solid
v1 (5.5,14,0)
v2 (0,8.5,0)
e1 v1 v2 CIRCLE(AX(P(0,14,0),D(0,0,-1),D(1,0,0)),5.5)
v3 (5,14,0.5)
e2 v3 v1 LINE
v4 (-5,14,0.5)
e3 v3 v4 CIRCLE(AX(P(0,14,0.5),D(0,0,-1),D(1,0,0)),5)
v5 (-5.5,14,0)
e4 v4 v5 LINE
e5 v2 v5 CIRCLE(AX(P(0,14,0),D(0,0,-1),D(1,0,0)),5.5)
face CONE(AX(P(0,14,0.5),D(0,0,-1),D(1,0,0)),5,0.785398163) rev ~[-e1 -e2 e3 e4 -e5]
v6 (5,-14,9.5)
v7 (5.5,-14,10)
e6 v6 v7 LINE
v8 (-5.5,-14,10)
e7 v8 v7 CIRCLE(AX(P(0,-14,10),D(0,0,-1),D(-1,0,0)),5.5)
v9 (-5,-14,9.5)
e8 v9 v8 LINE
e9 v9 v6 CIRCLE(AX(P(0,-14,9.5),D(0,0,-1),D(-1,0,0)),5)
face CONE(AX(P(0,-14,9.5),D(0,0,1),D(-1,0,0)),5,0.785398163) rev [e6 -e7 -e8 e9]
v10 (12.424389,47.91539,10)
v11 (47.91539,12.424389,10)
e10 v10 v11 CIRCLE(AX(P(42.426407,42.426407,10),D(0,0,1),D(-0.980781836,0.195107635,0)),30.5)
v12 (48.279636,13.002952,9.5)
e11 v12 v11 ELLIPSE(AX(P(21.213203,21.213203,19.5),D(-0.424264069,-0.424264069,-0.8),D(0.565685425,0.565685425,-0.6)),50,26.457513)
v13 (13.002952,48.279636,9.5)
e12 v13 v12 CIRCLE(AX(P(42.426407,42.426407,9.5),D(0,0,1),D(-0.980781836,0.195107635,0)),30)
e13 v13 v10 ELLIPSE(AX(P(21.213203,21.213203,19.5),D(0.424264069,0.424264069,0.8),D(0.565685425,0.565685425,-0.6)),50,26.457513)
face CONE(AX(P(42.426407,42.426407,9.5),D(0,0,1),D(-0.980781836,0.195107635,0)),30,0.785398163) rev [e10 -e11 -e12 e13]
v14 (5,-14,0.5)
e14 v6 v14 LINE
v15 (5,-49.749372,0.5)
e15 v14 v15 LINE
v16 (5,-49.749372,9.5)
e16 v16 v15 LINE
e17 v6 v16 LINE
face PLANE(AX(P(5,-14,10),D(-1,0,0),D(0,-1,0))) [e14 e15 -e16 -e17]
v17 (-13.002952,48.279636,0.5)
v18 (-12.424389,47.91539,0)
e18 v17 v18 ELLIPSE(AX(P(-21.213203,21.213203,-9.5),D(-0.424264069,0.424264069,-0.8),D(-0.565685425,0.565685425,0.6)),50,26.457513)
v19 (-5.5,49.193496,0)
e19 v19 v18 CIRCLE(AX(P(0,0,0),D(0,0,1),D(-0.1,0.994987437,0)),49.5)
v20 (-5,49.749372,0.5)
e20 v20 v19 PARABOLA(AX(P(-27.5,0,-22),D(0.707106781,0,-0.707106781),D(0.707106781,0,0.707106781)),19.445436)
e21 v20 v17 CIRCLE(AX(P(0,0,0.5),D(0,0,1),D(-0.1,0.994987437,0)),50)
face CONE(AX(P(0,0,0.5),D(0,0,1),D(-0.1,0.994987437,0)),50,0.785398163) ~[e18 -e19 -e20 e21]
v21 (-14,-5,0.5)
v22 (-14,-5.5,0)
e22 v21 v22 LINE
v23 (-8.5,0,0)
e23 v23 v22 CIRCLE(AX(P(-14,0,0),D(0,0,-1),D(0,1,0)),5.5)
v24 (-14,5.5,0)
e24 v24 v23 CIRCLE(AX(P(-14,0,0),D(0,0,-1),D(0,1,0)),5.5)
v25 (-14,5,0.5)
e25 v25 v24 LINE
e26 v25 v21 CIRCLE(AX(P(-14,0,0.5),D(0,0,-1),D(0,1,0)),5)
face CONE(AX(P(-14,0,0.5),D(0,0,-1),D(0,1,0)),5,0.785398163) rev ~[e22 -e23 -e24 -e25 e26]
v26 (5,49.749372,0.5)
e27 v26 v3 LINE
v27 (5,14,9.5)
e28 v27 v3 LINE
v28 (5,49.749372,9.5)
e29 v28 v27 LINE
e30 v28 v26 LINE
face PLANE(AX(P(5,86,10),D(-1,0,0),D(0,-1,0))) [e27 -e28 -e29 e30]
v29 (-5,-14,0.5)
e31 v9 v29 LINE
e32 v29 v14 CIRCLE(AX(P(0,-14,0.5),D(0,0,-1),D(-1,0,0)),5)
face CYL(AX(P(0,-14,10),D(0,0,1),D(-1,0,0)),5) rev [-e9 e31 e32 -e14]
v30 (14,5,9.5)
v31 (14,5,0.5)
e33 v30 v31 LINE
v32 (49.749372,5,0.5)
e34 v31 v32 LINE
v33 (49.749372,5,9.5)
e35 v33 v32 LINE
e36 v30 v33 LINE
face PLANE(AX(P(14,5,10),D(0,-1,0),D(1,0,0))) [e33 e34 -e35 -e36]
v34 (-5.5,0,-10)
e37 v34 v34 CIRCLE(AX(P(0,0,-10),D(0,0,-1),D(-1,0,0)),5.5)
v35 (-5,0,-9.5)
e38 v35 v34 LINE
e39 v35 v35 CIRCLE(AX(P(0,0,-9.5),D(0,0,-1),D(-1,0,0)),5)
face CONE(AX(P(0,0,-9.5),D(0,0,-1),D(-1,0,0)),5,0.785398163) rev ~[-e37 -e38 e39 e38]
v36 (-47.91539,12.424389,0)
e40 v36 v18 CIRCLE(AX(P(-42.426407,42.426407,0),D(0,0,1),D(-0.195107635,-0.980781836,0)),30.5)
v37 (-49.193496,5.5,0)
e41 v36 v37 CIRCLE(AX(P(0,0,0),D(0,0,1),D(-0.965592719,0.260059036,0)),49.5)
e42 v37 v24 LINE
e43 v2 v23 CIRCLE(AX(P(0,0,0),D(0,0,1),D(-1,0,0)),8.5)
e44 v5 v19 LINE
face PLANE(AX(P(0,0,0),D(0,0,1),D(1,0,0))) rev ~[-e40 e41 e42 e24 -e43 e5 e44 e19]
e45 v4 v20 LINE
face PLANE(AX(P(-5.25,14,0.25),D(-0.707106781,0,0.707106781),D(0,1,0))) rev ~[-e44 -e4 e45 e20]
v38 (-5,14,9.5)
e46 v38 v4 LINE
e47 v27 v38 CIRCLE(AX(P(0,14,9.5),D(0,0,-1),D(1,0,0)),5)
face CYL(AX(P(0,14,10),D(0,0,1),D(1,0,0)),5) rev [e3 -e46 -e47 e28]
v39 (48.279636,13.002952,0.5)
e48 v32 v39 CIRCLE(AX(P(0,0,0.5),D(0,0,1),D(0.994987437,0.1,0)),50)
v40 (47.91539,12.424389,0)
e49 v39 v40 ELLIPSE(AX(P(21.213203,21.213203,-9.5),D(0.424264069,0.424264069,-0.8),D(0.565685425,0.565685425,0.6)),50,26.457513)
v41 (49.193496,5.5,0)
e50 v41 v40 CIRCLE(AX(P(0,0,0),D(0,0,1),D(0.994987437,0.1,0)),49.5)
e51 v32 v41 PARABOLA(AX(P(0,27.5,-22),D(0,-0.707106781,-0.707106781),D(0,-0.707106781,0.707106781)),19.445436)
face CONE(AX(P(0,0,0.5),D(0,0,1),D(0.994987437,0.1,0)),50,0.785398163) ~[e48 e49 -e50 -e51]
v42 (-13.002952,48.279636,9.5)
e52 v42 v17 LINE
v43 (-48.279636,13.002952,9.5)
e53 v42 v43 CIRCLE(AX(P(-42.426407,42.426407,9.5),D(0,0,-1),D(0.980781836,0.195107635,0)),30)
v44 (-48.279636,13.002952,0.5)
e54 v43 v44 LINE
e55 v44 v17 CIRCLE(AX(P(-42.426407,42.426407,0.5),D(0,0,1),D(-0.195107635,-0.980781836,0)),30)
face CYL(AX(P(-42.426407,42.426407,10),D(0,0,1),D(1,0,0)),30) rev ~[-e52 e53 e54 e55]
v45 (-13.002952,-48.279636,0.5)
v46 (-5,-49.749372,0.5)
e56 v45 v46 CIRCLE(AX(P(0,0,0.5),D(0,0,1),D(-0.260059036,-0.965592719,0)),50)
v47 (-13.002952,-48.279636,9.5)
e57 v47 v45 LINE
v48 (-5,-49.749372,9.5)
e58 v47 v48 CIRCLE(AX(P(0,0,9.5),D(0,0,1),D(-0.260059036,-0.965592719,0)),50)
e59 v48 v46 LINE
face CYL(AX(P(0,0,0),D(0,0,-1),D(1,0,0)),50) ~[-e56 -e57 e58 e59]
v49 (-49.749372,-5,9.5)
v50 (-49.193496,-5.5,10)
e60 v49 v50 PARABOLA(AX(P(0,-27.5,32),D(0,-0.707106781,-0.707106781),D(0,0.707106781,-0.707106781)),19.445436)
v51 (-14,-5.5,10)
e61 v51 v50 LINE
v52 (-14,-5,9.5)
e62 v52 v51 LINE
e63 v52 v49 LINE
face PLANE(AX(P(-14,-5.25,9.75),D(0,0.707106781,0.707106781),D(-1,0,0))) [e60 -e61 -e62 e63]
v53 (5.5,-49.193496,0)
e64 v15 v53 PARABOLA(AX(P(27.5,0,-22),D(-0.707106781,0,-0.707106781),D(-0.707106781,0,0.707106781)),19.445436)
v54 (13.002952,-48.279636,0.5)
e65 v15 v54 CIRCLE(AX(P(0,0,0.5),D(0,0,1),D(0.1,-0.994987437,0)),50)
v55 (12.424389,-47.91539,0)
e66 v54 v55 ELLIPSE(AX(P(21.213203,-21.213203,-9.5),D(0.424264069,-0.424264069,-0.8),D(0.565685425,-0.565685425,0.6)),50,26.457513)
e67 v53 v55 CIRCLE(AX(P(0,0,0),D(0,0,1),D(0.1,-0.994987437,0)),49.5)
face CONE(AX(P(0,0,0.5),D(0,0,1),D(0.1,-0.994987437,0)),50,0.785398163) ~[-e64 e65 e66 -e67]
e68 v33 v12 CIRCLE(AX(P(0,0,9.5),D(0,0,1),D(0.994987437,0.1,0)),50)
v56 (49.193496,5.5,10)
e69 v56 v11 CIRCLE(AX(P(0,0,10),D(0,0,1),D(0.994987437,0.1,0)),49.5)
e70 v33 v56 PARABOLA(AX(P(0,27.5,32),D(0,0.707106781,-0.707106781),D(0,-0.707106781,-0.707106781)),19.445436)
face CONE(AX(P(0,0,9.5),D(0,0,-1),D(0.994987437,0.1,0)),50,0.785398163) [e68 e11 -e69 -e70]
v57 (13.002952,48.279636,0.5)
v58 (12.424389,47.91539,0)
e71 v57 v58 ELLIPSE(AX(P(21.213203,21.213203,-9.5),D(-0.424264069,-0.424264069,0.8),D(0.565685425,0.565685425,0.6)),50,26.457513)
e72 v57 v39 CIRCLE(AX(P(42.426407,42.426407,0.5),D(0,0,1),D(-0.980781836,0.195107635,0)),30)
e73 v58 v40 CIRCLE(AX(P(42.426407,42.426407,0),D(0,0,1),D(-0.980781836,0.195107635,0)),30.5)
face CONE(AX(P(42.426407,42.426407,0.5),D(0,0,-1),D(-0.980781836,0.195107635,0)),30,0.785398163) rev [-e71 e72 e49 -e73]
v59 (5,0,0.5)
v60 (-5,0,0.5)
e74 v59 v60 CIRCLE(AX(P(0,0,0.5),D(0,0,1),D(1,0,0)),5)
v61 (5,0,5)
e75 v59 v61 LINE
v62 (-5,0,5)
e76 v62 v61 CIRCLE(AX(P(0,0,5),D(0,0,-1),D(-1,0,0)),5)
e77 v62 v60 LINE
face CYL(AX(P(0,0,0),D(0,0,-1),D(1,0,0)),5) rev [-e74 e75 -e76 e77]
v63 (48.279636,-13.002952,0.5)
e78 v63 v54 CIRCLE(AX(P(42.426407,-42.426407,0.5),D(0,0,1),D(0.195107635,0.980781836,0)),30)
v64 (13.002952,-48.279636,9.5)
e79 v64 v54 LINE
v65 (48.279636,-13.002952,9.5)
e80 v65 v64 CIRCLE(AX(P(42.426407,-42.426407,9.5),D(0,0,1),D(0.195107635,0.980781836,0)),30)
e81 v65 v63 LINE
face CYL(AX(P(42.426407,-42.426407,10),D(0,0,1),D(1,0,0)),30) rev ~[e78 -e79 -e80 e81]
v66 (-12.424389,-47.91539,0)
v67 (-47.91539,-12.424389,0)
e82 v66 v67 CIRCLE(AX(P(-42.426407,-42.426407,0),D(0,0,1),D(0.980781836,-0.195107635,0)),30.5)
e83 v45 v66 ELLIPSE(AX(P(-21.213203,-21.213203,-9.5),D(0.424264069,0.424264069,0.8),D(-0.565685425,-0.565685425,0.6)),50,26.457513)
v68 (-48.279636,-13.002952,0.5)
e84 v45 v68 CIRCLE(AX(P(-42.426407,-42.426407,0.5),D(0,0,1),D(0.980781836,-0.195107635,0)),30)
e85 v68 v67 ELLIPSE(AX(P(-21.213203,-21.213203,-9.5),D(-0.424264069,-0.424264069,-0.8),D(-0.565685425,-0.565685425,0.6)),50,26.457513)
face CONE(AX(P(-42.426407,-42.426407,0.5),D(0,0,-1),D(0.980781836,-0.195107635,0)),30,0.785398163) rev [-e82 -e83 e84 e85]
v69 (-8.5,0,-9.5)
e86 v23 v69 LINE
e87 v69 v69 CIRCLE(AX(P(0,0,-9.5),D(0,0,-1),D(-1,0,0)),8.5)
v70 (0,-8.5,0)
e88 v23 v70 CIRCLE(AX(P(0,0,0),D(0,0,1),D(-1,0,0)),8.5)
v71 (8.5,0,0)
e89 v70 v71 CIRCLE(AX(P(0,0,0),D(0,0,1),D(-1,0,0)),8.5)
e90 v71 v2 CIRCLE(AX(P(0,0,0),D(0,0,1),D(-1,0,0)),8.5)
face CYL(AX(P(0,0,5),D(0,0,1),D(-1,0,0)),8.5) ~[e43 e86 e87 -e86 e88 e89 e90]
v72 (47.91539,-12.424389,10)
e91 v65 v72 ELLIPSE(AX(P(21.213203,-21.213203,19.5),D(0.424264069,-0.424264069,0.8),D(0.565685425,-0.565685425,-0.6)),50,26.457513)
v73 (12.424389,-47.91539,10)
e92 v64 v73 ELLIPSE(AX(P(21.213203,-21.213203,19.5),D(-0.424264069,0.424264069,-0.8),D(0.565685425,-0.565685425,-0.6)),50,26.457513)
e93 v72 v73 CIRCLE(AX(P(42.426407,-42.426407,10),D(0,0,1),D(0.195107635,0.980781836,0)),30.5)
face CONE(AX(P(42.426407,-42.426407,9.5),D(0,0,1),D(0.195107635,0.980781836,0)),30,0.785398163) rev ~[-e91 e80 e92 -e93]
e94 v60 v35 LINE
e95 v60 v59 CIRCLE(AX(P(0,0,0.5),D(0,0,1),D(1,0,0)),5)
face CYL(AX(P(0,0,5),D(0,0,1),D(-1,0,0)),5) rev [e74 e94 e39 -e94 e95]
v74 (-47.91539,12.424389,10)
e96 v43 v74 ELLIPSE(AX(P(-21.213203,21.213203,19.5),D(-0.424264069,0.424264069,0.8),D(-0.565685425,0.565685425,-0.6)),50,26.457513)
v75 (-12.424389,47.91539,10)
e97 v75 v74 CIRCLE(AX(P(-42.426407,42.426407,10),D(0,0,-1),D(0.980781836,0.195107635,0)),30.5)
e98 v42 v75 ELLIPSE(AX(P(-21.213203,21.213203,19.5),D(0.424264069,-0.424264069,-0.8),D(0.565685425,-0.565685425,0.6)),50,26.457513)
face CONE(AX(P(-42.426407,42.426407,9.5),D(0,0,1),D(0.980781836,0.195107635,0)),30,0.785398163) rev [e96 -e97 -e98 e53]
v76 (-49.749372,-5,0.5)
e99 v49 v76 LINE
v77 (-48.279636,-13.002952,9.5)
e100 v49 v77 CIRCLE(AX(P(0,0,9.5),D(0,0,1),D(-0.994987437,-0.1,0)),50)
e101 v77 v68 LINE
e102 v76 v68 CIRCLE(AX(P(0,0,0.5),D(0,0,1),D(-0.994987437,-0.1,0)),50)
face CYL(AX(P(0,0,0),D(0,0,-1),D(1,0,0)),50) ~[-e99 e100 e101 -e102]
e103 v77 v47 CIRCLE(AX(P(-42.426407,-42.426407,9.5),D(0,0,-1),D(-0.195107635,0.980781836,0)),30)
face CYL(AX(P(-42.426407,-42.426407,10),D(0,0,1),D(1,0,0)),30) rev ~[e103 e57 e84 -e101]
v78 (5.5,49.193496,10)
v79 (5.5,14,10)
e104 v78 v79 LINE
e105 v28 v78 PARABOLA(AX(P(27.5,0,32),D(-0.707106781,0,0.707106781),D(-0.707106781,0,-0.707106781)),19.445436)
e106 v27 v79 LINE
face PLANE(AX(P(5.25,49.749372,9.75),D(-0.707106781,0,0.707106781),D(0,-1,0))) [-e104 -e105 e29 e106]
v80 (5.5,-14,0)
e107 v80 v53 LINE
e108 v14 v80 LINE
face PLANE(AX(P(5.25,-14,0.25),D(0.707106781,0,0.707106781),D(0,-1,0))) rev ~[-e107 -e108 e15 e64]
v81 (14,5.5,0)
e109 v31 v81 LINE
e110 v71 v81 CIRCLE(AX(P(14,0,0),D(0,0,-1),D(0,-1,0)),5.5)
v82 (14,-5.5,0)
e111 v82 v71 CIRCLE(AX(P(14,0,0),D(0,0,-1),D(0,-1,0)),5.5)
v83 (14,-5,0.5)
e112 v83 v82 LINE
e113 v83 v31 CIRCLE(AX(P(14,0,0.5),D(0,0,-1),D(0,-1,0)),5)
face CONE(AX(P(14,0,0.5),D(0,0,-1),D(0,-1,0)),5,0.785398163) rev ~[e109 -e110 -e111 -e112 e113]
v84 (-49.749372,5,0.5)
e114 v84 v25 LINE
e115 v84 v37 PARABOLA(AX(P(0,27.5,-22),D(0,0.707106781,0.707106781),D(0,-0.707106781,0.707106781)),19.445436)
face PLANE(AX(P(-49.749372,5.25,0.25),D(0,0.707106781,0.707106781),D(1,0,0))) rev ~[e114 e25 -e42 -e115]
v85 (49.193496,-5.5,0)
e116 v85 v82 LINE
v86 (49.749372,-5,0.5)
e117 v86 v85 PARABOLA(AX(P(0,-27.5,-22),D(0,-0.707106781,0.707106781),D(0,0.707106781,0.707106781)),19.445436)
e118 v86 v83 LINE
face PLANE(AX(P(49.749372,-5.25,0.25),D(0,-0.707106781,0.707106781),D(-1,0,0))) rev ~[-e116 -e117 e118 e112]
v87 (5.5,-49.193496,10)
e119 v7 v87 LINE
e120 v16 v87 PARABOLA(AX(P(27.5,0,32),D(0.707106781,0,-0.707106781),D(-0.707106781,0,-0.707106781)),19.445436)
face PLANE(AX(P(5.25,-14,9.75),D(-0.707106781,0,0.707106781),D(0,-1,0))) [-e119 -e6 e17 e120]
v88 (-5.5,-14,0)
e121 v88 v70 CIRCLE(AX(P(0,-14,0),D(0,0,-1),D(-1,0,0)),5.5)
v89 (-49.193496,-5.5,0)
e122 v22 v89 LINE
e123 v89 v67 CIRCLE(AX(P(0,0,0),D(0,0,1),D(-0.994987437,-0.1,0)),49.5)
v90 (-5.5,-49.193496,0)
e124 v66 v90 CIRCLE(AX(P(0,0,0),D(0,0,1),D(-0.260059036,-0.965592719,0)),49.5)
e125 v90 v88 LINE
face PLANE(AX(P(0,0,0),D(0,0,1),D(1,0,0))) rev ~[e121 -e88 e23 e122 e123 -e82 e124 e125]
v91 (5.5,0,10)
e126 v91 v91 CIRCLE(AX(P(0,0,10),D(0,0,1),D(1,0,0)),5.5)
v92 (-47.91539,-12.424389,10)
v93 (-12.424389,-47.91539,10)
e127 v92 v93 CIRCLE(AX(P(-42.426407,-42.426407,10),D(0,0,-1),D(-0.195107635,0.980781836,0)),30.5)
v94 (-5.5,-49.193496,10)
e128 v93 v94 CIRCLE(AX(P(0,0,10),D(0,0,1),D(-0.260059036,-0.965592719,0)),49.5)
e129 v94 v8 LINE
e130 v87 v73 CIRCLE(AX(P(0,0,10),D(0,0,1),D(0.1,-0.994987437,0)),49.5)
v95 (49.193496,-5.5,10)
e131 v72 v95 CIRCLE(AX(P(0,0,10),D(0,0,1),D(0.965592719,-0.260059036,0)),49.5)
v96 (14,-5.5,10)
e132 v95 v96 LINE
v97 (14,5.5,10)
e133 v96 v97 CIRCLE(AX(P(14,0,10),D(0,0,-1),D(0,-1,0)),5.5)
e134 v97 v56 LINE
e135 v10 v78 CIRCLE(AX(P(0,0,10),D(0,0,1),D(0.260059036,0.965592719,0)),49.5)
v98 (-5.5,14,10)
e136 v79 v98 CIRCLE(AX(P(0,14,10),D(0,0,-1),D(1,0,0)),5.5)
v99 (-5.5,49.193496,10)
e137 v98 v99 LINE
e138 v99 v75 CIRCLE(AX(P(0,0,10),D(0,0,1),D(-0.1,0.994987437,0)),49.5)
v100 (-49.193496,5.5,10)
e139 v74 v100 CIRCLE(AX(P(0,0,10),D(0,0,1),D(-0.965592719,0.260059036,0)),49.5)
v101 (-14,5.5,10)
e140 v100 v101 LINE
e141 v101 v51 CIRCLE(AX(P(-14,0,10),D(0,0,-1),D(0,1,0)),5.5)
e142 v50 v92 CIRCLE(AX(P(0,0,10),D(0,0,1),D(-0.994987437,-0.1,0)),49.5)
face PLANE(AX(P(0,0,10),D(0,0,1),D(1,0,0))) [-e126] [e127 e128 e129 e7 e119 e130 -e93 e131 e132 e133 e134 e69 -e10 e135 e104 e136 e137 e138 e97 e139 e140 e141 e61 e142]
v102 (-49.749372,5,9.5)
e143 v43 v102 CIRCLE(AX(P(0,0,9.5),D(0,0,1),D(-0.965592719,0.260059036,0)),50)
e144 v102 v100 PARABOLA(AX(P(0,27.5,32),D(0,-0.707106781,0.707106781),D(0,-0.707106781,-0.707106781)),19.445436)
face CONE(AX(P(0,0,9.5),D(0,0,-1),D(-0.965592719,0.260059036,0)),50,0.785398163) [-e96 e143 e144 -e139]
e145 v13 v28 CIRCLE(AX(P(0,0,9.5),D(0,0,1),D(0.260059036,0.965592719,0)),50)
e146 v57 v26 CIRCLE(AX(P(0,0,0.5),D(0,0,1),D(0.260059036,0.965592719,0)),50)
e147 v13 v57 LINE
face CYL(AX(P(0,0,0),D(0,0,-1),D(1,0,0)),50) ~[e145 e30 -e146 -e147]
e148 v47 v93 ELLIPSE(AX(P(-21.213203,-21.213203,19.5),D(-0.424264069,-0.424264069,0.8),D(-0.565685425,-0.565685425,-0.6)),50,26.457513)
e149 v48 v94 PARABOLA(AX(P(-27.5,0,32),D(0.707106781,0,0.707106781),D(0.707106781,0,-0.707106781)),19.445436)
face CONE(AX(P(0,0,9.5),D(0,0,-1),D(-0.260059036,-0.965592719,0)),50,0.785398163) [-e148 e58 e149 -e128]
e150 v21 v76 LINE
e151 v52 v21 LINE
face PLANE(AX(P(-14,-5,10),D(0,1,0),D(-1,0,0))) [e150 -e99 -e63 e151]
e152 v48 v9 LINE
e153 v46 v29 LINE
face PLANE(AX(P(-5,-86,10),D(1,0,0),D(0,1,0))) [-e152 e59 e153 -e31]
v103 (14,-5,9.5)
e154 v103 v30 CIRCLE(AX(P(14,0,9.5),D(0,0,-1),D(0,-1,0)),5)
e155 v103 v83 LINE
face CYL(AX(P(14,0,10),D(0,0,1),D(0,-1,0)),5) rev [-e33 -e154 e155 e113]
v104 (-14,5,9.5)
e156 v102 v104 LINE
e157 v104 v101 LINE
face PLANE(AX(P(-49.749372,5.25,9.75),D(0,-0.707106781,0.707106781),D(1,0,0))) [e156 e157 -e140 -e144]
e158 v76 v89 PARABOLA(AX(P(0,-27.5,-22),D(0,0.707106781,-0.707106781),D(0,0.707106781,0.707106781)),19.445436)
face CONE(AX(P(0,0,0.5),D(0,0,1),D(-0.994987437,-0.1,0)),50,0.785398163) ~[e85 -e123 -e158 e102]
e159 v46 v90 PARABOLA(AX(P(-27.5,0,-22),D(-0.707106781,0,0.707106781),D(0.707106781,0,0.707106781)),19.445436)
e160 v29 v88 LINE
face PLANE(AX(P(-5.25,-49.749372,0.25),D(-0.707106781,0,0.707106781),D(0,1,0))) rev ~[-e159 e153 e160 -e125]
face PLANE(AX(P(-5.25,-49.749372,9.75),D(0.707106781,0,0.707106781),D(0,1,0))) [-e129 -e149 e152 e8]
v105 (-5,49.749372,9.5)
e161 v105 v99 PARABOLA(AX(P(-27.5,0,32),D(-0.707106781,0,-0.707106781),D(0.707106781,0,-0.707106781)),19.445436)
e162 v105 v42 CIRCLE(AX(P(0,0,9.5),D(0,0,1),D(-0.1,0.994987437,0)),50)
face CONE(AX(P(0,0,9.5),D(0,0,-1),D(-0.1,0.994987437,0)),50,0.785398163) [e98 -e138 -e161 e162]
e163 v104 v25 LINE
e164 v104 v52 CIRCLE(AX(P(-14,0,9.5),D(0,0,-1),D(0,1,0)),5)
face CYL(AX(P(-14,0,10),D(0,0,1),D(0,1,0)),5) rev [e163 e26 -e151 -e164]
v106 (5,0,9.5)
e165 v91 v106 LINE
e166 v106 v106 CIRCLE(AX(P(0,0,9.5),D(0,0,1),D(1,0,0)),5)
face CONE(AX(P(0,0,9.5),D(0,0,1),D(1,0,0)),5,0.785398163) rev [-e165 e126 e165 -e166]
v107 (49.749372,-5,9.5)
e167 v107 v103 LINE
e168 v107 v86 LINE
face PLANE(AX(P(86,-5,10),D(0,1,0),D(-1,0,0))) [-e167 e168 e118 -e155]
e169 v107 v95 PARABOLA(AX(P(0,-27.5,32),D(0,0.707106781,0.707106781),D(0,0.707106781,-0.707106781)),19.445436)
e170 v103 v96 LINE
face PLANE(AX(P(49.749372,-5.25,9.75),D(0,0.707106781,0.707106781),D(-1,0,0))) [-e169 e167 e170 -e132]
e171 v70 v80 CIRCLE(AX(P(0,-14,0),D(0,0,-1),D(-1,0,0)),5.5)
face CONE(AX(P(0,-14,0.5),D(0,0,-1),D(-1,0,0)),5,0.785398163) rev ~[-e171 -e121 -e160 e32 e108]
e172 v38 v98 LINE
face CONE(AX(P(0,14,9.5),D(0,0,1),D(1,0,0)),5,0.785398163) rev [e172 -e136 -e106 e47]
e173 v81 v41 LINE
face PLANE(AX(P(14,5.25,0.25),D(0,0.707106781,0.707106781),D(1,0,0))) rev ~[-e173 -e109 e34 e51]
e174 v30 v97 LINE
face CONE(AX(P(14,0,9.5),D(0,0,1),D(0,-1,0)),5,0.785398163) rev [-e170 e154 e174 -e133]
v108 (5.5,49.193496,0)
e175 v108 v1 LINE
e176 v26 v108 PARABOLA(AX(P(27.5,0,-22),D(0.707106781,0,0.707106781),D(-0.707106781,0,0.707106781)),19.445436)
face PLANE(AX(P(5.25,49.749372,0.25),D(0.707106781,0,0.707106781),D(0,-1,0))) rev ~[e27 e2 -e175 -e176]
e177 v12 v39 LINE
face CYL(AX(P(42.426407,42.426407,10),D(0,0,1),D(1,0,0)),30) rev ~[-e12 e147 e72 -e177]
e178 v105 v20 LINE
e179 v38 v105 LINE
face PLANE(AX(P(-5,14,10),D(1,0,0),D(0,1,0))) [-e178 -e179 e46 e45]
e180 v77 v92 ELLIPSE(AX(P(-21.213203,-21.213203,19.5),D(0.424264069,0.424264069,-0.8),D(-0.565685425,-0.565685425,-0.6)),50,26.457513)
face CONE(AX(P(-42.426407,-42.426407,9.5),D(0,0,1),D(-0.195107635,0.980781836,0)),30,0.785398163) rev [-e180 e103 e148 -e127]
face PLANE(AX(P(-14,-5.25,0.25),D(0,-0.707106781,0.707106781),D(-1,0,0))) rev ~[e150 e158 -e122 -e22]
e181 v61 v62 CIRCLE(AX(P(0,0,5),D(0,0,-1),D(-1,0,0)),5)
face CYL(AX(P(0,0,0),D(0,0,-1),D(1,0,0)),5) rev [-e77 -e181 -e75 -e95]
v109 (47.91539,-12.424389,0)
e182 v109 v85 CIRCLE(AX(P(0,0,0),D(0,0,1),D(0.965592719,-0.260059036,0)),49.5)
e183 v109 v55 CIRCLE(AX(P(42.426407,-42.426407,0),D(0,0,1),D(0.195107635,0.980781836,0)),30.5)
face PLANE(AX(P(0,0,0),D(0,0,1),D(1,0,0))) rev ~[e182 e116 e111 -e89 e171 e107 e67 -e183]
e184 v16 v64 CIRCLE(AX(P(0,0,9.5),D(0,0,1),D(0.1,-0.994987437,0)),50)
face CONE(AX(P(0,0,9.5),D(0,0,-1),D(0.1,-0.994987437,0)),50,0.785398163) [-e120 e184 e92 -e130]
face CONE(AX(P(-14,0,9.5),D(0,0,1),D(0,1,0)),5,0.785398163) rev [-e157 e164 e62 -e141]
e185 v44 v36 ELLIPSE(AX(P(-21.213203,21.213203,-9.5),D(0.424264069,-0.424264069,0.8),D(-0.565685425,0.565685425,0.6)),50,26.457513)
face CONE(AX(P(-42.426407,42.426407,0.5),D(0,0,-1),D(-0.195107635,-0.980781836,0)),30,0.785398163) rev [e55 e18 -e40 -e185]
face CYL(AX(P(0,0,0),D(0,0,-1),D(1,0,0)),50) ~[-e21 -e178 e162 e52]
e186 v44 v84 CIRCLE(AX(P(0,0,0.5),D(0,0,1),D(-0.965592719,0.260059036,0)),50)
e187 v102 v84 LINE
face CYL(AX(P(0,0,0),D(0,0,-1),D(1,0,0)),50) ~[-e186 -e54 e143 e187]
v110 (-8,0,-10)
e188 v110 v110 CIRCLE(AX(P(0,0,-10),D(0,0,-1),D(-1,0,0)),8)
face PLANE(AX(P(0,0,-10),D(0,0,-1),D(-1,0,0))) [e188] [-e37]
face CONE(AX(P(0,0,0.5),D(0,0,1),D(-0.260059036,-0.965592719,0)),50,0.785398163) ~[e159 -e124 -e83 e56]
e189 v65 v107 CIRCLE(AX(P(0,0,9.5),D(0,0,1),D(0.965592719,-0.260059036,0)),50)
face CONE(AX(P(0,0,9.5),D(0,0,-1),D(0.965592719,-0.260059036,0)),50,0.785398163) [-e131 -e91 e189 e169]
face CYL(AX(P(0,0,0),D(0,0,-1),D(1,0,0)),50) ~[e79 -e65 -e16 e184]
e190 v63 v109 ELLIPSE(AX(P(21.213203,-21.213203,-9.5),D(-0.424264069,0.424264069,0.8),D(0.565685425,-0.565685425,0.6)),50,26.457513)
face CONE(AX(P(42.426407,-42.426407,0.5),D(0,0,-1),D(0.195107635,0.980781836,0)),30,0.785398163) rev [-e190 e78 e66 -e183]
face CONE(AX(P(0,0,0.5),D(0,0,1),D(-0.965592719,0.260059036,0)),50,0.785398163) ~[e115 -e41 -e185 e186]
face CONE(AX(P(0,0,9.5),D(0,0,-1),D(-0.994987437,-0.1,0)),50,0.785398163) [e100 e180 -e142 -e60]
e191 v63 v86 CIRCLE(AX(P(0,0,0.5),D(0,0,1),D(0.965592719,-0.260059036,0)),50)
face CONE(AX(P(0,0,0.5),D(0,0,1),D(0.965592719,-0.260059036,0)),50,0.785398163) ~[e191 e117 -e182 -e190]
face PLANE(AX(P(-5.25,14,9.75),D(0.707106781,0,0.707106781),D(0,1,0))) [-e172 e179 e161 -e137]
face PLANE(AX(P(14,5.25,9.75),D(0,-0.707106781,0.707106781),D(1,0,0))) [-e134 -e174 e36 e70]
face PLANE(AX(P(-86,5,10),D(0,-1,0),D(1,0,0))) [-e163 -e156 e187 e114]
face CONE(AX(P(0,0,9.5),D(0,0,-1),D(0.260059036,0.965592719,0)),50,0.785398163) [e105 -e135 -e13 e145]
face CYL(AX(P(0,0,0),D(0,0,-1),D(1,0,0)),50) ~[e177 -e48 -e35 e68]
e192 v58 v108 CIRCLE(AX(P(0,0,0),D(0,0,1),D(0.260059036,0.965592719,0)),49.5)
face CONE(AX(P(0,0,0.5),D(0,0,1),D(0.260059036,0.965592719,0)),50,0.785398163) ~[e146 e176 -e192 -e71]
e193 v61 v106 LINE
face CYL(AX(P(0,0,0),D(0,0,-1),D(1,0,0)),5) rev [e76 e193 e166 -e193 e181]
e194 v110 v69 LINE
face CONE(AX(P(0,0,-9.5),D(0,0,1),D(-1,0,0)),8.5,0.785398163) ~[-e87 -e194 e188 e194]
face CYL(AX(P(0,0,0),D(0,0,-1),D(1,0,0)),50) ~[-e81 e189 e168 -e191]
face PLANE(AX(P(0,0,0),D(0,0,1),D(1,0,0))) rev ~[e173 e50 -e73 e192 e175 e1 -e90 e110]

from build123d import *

# Parameters (mm, degrees)
SKETCH1_R                = 50
SKETCH1_R_2              = 5
BOSS_EXTRUDE1_DEPTH      = 10
SKETCH2_R                = 30
CUT_EXTRUDE1_DEPTH       = 72.414284285
CHAMFER1_SIZE            = 0.5
BOSS_EXTRUDE3_DEPTH      = 10
BOSS_EXTRUDE3_DEPTH_BACK = 5
SKETCH4_R                = 8.5
SKETCH4_R_2              = 5
CHAMFER2_SIZE            = 0.5


with BuildPart() as part:
    # Sketch1 → Boss-Extrude1 (new body)
    with BuildSketch(Plane.XY):
        Circle(SKETCH1_R)
        Circle(SKETCH1_R_2, mode=Mode.SUBTRACT)
    extrude(amount=BOSS_EXTRUDE1_DEPTH)

    # Sketch2 → Cut-Extrude1 (cut, through all)
    with BuildSketch(Plane.XY.offset(10)):
        with Locations((42.426406871, 42.426406871)):
            Circle(SKETCH2_R)
        with Locations((42.426406871, -42.426406871)):
            Circle(SKETCH2_R)
        with Locations((-42.426406871, -42.426406871)):
            Circle(SKETCH2_R)
        with Locations((-42.426406871, 42.426406871)):
            Circle(SKETCH2_R)
        with BuildLine():
            Line((-5, 14), (-5, 86))
            ThreePointArc((-5, 86), (0, 91), (5, 86))
            Line((5, 86), (5, 14))
            ThreePointArc((5, 14), (0, 9), (-5, 14))
        make_face()
        with BuildLine():
            Line((14, 5), (86, 5))
            ThreePointArc((86, 5), (91, 0), (86, -5))
            Line((86, -5), (14, -5))
            ThreePointArc((14, -5), (9, 0), (14, 5))
        make_face()
        with BuildLine():
            Line((5, -14), (5, -86))
            ThreePointArc((5, -86), (0, -91), (-5, -86))
            Line((-5, -86), (-5, -14))
            ThreePointArc((-5, -14), (0, -9), (5, -14))
        make_face()
        with BuildLine():
            Line((-14, -5), (-86, -5))
            ThreePointArc((-86, -5), (-91, 0), (-86, 5))
            Line((-86, 5), (-14, 5))
            ThreePointArc((-14, 5), (-9, 0), (-14, -5))
        make_face()
    extrude(amount=-CUT_EXTRUDE1_DEPTH, mode=Mode.SUBTRACT)

    # Chamfer1
    chamfer1_edges = [part.edges().sort_by_distance(p)[0] for p in [
        (-9.031422873, 49.1775701, 0),
        (-5, 31.874685928, 0),
        (5, 31.874685928, 0),
        (5, 31.874685928, 10),
        (-5, 31.874685928, 10),
        (0, 9, 10),
        (0, 9, 0),
        (-49.1775701, 9.031422873, 10),
        (-49.1775701, -9.031422873, 10),
        (-9.031422873, -49.1775701, 10),
        (9.031422873, -49.1775701, 10),
        (49.1775701, -9.031422873, 10),
        (49.1775701, 9.031422873, 10),
        (9.031422873, 49.1775701, 10),
        (-49.1775701, 9.031422873, 0),
        (-49.1775701, -9.031422873, 0),
        (-9.031422873, -49.1775701, 0),
        (9.031422873, -49.1775701, 0),
        (49.1775701, -9.031422873, 0),
        (49.1775701, 9.031422873, 0),
        (9.031422873, 49.1775701, 0),
        (-5, 0, 0),
        (-5, 0, 10),
        (-31.874685928, -5, 0),
        (-31.874685928, 5, 0),
        (-31.874685928, 5, 10),
        (-31.874685928, -5, 10),
        (-9, 0, 10),
        (-9, 0, 0),
        (21.213203436, -21.213203436, 0),
        (21.213203436, -21.213203436, 10),
        (-21.213203436, -21.213203436, 0),
        (-21.213203436, -21.213203436, 10),
        (-21.213203436, 21.213203436, 0),
        (-21.213203436, 21.213203436, 10),
        (5, -31.874685928, 0),
        (-5, -31.874685928, 0),
        (-5, -31.874685928, 10),
        (5, -31.874685928, 10),
        (0, -9, 10),
        (0, -9, 0),
        (31.874685928, 5, 0),
        (31.874685928, -5, 0),
        (31.874685928, -5, 10),
        (31.874685928, 5, 10),
        (9, 0, 10),
        (9, 0, 0),
        (21.213203436, 21.213203436, 0),
        (21.213203436, 21.213203436, 10),
        (-9.031422873, 49.1775701, 10),
    ]]
    chamfer(chamfer1_edges, length=CHAMFER1_SIZE)

    # Sketch4 → Boss-Extrude3 (add, two sides: drawn at the far end of the back side and taken through both)
    with BuildSketch(Plane(origin=(0, 0, 0), x_dir=(-1, 0, 0), z_dir=(0, 0, -1)).offset(-BOSS_EXTRUDE3_DEPTH_BACK)):
        Circle(SKETCH4_R)
        Circle(SKETCH4_R_2, mode=Mode.SUBTRACT)
    extrude(amount=BOSS_EXTRUDE3_DEPTH + BOSS_EXTRUDE3_DEPTH_BACK)

    # Chamfer2
    chamfer2_edges = [part.edges().sort_by_distance(p)[0] for p in [
        (5, 0, -10),
        (8.5, 0, -10),
    ]]
    chamfer(chamfer2_edges, length=CHAMFER2_SIZE)


solid = part.part
